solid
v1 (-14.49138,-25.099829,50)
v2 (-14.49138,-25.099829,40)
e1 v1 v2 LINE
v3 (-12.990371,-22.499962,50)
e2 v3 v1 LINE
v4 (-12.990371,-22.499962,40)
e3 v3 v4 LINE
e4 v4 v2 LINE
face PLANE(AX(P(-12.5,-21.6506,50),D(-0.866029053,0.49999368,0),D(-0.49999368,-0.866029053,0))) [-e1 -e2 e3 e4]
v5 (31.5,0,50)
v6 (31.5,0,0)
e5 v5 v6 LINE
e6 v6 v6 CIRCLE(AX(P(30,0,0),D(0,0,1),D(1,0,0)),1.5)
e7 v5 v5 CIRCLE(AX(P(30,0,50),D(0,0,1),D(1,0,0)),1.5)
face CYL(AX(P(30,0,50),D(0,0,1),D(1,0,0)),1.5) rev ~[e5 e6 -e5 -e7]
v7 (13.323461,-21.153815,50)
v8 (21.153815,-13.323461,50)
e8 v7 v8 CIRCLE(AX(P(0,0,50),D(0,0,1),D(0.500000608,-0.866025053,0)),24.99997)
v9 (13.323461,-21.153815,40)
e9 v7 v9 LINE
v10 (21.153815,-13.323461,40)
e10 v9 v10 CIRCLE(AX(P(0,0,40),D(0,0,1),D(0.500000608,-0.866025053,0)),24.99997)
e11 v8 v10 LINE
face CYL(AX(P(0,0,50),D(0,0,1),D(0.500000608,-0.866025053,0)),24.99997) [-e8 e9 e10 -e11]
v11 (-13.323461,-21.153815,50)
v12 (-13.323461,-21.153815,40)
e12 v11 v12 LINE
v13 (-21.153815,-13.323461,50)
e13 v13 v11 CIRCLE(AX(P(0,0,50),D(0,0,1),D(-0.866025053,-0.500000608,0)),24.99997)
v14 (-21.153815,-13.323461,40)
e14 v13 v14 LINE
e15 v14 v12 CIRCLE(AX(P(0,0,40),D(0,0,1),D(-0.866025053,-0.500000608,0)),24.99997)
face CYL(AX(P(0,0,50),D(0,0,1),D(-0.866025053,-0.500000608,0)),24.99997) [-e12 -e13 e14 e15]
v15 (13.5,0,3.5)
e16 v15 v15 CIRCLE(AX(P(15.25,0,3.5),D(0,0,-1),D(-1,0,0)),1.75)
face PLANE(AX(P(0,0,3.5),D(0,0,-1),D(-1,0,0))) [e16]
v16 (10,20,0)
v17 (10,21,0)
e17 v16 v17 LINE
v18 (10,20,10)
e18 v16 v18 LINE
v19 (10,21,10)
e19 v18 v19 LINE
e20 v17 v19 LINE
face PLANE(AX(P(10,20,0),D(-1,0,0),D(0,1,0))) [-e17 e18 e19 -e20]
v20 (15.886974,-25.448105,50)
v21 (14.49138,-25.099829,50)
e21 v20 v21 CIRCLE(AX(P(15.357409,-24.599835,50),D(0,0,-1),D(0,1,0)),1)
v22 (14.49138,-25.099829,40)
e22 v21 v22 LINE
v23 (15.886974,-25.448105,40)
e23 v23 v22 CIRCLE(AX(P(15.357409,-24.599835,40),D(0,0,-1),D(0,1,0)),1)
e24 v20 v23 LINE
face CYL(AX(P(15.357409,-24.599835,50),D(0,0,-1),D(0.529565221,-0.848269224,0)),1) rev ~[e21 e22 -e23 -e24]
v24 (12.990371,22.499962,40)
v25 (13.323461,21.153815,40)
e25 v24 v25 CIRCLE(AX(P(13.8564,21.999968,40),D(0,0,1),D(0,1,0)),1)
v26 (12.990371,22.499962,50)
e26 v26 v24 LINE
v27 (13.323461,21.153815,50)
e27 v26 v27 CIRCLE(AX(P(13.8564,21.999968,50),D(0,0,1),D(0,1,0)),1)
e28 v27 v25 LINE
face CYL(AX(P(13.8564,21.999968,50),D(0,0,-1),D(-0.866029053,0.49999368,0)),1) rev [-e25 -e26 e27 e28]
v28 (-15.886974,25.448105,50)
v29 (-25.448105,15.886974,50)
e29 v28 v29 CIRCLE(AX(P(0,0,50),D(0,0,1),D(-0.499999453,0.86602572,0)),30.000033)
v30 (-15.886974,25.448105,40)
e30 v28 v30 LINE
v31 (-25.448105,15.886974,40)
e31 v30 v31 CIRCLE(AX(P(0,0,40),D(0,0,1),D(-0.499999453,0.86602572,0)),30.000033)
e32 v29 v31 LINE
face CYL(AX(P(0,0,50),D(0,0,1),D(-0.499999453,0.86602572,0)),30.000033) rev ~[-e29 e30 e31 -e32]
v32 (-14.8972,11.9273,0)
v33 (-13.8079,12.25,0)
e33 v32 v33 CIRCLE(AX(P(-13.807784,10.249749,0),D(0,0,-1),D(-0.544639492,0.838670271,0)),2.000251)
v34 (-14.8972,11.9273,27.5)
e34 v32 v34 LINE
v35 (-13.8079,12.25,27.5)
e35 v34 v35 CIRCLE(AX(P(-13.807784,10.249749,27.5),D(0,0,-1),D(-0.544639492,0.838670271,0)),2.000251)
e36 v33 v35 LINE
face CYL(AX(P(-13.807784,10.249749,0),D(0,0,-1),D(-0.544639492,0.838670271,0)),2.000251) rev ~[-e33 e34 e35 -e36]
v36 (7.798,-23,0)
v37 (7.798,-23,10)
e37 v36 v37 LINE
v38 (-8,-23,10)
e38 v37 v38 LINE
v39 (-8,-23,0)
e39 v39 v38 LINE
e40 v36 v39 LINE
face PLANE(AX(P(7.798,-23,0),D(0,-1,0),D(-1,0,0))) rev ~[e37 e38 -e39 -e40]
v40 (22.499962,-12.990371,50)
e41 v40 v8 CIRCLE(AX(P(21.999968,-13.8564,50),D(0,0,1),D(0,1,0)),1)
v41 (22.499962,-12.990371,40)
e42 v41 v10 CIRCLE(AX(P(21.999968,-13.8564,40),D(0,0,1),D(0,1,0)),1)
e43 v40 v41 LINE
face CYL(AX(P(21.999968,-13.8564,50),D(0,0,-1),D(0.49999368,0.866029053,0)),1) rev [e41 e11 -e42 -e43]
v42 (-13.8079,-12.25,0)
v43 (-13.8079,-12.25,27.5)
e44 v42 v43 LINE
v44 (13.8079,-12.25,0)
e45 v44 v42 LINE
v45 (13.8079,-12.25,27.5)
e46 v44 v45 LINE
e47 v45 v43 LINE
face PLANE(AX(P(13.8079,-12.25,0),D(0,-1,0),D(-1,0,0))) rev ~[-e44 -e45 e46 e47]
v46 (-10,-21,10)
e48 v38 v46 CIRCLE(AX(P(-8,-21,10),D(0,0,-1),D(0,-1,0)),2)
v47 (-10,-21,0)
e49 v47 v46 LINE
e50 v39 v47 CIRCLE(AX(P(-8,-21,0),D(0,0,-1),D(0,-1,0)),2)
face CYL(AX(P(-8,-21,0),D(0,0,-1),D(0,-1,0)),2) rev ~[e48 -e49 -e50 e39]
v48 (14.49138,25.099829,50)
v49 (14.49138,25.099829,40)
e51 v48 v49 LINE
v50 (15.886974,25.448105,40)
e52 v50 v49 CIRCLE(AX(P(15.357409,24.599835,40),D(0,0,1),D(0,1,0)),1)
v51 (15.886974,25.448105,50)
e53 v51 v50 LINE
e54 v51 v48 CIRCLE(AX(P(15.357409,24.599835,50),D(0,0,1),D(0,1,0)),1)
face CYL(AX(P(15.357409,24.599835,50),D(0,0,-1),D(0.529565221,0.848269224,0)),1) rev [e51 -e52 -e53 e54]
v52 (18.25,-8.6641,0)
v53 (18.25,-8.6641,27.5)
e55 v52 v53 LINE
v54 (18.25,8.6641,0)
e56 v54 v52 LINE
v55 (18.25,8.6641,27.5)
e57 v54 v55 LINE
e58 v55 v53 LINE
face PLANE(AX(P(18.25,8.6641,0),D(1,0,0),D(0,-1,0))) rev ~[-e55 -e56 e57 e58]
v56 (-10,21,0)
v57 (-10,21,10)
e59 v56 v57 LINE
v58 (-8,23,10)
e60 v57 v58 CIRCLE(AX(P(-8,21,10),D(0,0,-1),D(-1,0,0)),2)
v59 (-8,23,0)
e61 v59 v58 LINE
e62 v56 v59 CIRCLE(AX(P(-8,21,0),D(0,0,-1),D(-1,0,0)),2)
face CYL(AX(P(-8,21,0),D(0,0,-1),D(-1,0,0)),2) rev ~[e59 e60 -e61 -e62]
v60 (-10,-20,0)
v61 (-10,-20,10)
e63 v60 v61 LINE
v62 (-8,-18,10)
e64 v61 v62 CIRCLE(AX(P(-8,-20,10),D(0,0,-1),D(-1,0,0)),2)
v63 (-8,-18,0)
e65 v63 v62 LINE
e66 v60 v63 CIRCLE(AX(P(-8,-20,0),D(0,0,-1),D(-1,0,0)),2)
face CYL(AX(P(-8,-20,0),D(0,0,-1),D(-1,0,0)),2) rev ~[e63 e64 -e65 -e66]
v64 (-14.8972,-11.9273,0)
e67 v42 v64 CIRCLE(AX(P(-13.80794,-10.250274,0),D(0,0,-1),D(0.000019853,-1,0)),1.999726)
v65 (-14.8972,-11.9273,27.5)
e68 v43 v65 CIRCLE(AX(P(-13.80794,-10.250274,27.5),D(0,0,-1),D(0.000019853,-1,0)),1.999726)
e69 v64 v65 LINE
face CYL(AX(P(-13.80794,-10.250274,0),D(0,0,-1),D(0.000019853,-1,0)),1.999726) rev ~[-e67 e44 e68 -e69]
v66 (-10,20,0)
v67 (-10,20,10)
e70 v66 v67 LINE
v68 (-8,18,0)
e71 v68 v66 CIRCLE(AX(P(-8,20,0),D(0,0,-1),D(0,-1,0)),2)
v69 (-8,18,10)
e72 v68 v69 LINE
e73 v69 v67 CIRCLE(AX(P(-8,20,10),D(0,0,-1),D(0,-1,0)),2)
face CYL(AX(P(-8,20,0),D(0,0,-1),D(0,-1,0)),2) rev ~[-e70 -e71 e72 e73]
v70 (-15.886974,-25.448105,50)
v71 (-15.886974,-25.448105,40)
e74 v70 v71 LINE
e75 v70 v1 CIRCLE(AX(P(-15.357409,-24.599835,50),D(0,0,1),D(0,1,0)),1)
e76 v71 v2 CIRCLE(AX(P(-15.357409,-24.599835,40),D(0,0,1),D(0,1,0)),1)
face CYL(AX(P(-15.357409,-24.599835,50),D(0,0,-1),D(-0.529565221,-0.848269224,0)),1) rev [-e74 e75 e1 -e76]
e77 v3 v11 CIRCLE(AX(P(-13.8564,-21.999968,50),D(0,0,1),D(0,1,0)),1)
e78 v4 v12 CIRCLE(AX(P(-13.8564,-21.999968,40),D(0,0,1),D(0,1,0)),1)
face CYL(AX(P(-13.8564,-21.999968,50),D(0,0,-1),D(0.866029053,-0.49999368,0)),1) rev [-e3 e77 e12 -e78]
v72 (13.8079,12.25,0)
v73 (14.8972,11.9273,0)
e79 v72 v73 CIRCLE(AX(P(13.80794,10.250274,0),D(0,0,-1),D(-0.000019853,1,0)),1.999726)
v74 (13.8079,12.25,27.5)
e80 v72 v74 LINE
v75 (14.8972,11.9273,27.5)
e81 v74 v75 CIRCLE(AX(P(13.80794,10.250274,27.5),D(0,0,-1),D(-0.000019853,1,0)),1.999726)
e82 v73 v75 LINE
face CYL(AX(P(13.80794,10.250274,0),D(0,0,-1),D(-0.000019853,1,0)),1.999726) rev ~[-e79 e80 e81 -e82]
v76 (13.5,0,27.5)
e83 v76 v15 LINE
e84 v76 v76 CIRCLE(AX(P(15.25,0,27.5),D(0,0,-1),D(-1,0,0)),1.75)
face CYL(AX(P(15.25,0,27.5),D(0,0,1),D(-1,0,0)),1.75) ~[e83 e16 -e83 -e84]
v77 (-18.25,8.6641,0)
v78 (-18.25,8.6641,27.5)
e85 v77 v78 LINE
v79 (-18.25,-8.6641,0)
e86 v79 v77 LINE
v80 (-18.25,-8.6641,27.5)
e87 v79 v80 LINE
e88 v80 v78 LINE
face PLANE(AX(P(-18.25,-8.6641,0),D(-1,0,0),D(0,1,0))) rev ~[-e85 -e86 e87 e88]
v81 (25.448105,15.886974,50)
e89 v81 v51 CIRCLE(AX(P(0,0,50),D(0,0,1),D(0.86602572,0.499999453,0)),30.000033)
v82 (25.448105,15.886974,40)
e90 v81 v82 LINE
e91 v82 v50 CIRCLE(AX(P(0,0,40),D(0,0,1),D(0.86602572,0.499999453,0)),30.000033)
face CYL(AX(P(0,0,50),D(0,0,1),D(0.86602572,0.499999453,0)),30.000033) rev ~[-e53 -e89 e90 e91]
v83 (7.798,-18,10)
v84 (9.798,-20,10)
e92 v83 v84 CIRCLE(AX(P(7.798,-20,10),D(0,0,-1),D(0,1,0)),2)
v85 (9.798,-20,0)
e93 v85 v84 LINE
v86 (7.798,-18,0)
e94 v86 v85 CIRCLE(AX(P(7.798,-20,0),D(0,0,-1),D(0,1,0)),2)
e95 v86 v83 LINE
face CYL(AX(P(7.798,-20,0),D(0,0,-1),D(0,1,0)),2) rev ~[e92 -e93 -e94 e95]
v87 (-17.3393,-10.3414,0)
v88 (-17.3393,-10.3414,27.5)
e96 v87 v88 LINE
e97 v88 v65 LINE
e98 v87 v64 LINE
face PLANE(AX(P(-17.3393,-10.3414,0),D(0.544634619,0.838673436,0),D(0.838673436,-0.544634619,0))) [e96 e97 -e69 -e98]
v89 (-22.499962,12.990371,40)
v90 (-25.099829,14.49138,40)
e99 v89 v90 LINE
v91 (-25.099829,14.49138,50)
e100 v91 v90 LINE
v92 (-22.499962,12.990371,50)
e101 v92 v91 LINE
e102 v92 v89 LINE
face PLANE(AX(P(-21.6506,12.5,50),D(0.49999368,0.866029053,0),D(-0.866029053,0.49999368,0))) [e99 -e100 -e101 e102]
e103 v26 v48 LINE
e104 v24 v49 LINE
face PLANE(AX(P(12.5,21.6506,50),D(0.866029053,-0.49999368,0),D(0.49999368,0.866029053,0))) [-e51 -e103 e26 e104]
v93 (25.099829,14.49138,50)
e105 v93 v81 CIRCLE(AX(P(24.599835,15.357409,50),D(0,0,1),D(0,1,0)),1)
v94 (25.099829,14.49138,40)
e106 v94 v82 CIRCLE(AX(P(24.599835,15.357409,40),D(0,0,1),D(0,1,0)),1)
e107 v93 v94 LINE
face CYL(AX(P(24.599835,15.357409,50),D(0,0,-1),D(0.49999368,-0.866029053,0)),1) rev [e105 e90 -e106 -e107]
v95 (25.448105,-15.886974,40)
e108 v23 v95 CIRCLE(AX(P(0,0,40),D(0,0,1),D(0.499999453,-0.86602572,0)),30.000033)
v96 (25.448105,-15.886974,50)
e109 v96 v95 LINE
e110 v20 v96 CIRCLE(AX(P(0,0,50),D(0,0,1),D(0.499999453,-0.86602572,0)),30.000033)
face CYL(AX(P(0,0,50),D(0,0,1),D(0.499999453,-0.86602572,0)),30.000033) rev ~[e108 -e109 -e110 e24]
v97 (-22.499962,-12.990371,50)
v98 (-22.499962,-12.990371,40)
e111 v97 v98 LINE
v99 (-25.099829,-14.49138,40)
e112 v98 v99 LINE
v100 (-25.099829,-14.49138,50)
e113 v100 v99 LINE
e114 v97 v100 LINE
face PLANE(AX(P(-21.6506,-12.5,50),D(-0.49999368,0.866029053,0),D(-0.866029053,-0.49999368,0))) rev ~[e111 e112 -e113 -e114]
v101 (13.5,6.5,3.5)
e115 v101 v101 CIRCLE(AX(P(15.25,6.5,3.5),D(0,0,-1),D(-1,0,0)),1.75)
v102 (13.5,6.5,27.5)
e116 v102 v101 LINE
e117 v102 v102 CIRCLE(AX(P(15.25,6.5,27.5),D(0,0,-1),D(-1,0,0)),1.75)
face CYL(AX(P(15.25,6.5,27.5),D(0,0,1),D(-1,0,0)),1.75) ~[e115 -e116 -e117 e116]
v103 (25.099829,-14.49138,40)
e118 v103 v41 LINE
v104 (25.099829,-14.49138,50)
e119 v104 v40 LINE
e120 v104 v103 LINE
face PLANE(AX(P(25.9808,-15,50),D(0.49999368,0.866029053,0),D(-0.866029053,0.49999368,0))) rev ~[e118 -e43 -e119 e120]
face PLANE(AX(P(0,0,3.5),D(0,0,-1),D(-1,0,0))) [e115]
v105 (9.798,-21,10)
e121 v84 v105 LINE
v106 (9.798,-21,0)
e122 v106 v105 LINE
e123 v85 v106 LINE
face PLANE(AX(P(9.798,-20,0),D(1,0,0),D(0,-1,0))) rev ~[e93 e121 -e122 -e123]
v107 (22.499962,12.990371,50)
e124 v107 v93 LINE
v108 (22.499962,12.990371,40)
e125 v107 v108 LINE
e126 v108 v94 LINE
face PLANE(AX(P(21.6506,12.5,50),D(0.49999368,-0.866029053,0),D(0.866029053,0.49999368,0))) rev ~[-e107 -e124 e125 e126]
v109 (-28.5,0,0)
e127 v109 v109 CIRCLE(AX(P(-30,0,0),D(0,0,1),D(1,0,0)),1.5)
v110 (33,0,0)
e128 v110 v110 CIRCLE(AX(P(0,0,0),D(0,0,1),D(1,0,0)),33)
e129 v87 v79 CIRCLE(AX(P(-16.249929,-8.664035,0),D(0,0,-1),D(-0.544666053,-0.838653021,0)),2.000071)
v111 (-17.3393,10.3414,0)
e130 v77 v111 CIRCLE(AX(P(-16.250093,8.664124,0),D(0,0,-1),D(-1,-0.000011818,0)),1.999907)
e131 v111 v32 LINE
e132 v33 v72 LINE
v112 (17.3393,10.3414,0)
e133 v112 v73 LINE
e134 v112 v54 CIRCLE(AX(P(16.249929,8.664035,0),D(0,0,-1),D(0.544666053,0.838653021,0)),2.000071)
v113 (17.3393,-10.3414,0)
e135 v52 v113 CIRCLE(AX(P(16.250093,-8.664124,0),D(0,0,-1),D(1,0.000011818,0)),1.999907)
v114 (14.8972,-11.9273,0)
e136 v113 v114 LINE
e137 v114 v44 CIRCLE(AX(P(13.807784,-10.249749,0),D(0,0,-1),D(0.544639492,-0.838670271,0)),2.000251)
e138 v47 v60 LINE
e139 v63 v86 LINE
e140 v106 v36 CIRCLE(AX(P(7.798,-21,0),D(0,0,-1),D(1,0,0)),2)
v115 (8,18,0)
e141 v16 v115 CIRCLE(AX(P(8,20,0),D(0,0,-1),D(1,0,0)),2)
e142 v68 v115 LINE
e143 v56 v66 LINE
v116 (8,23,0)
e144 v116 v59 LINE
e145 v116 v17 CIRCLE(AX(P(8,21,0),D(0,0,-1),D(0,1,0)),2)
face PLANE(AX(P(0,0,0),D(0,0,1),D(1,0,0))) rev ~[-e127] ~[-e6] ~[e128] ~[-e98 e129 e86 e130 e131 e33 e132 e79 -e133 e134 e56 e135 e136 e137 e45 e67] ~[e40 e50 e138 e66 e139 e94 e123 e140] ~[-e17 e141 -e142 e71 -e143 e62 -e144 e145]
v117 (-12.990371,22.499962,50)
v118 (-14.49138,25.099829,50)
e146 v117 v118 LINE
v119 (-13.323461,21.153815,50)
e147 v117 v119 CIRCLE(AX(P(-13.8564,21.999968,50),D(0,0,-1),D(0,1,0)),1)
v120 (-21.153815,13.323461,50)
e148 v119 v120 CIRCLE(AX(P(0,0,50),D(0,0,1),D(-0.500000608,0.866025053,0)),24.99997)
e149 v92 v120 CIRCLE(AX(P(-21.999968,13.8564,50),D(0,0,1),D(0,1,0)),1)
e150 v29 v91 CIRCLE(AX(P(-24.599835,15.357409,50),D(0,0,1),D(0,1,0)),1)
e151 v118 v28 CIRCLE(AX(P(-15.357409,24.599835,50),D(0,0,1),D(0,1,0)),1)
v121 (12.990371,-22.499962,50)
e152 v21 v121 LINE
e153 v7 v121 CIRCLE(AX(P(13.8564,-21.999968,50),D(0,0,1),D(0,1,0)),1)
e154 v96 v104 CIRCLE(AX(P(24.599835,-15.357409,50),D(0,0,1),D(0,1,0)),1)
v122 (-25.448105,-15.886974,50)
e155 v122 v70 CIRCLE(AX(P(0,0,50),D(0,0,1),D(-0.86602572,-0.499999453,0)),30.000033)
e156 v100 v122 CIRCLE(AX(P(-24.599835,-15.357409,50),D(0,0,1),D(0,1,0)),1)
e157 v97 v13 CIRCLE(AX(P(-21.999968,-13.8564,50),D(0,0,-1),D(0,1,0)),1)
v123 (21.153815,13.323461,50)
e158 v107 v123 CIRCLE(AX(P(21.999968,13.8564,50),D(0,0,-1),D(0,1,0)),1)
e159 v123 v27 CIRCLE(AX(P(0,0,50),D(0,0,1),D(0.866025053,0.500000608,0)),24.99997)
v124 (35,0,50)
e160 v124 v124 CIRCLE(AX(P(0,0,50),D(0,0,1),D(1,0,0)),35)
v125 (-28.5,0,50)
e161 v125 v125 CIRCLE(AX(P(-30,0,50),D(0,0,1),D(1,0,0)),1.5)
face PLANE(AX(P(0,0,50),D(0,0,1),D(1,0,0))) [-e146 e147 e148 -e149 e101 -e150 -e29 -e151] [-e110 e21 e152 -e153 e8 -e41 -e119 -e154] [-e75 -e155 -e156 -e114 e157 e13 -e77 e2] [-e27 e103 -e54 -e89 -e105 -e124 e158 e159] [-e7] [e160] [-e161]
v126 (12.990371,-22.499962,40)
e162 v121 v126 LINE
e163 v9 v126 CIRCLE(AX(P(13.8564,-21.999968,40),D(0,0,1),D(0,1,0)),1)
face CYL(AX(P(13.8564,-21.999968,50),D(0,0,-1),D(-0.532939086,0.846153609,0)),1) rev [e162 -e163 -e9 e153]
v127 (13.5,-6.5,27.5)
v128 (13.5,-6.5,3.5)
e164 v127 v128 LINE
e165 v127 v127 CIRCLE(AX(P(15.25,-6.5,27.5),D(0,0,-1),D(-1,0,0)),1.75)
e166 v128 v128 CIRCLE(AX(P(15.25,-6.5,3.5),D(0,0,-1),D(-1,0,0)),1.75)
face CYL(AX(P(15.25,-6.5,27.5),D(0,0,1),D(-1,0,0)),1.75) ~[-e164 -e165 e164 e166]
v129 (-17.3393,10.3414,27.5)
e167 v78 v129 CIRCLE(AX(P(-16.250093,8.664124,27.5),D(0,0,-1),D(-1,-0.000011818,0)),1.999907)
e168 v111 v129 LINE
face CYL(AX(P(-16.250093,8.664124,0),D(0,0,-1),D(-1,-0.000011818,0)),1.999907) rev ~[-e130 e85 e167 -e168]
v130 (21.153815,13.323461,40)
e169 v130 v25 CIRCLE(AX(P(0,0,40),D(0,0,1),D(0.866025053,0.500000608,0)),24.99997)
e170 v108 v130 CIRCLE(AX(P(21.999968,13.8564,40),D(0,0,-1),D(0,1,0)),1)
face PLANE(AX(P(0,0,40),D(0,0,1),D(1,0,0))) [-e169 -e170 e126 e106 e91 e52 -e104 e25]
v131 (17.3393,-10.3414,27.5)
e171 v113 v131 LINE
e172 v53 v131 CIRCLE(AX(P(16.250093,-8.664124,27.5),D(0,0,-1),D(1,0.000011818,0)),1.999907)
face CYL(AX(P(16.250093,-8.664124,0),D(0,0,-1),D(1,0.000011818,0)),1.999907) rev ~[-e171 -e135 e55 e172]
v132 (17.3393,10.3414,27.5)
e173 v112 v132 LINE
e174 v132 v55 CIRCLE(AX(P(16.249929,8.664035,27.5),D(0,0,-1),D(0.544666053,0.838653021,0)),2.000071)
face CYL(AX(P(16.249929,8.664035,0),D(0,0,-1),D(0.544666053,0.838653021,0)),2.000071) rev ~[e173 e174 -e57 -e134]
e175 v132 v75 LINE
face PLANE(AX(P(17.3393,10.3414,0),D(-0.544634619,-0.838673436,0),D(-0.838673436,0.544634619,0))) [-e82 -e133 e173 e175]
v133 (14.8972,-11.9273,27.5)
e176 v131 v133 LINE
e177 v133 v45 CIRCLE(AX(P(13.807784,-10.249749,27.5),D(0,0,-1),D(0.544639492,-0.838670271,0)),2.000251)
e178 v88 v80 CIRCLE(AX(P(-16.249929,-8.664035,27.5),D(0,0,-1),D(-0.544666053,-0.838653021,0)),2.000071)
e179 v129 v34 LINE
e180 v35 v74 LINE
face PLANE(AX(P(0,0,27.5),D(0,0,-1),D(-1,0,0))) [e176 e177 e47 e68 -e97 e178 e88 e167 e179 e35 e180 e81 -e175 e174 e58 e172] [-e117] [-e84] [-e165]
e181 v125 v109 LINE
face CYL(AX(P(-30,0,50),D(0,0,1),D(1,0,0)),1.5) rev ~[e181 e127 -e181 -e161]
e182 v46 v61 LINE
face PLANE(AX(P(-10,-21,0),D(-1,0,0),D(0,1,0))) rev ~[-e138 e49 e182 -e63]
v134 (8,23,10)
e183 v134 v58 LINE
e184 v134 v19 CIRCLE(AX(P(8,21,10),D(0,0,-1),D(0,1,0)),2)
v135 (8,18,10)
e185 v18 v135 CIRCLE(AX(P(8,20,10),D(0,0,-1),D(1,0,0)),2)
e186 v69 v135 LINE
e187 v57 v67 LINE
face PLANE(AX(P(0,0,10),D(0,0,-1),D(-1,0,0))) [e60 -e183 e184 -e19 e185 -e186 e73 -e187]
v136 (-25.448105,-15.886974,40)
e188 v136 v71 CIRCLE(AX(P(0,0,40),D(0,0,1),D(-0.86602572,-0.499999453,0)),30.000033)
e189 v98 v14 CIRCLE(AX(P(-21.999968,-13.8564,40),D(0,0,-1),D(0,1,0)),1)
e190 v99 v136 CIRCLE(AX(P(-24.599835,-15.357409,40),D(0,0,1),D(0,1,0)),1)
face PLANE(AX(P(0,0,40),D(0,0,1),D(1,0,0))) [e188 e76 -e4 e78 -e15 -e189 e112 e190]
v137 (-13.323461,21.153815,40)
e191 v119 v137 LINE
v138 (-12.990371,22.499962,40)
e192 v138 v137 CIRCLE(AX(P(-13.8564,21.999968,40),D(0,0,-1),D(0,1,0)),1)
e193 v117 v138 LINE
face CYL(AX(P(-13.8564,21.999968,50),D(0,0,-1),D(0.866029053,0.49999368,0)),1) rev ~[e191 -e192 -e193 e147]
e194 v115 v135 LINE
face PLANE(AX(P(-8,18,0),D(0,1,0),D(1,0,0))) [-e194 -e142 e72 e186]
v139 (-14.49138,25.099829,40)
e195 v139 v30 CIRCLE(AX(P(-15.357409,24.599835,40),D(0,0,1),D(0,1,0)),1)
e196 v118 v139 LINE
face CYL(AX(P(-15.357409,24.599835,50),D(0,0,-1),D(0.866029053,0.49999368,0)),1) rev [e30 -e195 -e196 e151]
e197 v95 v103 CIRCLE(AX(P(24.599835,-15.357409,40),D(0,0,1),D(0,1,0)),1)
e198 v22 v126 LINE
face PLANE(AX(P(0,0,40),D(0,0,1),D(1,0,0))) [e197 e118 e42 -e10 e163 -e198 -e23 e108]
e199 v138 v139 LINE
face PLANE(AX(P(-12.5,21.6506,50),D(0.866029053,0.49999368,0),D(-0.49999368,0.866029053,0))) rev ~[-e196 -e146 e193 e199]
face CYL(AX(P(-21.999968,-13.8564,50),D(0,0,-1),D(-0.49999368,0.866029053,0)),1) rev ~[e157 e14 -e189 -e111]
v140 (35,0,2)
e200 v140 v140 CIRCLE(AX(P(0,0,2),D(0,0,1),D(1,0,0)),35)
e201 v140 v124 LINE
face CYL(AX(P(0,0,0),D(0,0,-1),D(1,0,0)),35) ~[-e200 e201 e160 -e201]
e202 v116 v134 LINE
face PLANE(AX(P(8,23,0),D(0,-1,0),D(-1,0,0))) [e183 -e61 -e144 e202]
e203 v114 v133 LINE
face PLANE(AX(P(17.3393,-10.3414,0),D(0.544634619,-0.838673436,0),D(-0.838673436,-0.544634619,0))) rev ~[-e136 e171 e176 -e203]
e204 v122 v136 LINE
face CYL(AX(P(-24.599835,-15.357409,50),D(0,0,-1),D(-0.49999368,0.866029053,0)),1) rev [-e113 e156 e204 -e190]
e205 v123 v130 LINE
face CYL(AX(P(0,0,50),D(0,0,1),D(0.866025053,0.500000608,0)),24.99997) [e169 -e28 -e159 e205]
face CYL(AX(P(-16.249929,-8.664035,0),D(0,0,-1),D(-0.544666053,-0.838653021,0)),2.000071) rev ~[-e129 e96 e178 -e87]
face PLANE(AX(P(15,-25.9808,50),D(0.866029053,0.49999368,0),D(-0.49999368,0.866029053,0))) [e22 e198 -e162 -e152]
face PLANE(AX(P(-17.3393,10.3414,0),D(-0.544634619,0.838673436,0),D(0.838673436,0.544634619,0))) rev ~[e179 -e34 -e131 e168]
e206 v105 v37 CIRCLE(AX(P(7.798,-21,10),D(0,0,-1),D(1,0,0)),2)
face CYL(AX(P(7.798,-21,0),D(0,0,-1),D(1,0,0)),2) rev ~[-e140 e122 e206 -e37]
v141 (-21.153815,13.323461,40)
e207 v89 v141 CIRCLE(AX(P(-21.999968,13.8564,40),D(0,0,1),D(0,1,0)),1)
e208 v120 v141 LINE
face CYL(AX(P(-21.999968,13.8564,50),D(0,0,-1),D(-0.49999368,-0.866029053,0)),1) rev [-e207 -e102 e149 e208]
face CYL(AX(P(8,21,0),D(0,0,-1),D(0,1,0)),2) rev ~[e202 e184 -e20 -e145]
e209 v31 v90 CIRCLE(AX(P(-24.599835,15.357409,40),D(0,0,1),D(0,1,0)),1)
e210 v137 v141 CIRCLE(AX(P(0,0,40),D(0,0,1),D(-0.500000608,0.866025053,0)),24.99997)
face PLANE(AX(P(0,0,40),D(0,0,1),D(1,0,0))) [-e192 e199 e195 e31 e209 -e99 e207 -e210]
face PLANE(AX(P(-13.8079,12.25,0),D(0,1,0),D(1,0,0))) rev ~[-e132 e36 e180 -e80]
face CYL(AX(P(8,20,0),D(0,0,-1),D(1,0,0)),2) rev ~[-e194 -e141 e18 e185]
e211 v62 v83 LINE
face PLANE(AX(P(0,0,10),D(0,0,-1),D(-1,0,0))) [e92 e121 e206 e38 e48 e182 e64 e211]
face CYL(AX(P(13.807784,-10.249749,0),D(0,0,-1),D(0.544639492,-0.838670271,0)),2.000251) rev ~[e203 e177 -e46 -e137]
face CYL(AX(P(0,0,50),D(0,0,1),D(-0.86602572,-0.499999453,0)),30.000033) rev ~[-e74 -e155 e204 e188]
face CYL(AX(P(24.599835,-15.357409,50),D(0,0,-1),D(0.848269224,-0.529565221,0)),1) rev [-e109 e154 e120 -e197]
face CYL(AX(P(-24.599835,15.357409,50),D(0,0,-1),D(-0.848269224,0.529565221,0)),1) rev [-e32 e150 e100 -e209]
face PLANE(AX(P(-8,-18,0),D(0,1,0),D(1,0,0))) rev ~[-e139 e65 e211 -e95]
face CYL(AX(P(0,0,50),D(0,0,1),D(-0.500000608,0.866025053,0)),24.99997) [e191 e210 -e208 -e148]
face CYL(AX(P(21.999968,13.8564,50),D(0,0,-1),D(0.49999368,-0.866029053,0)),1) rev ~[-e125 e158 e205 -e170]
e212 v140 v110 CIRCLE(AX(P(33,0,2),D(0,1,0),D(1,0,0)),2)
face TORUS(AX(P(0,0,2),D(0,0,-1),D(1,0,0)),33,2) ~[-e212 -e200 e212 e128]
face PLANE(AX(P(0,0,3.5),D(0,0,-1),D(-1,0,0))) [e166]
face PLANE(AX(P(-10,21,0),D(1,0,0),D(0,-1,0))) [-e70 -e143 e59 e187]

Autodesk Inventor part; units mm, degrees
ref_plane "YZ Plane" through (0, 0, 0) normal (1, 0, 0) x (0, 1, 0)
ref_plane "XZ Plane" through (0, 0, 0) normal (0, 1, 0) x (-1, 0, 0)
ref_plane "XY Plane" through (0, 0, 0) normal (0, 0, 1) x (1, 0, 0)
sketch "Sketch1" plane through (0, 0, 0) normal (0, 0, 1) x (1, 0, 0)
  circle A0 centre (0, 0) radius 35
  dimension "d0" = 70
extrude "Extrusion1" add sketch "Sketch1" along normal blind 50
sketch "Sketch4" plane through (0, 0, 50) normal (0, 0, 1) x (1, 0, 0)
  circle A0 centre (30, 0) radius 1.5
  dimension "d104" = 3
sketch "Sketch6" plane through (0, 0, 50) normal (0, 0, 1) x (1, 0, 0)
  circle A0 centre (-30, 0) radius 1.5
  point P0 (0, 0)
  dimension "d105" = 3
sketch "Sketch11" plane through (0, 0, 0) normal (0, 0, -1) x (-1, 0, 0)
  line L0 (13.8079, 12.25) -> (-13.8079, 12.25)
  line L1 (-18.25, 8.6641) -> (-18.25, -8.6641)
  line L2 (-13.8079, -12.25) -> (13.8079, -12.25)
  line L3 (18.25, -8.6641) -> (18.25, 8.6641)
  line L4 (17.3393, 10.3414) -> (14.8972, 11.9273)
  line L5 (17.3393, -10.3414) -> (14.8972, -11.9273)
  line L6 (-17.3393, 10.3414) -> (-14.8972, 11.9273)
  line L7 (-17.3393, -10.3414) -> (-14.8972, -11.9273)
  arc A0 (18.25, 8.6641) -> (17.3393, 10.3414) centre (16.25, 8.6641) ccw
  arc A1 (14.8972, 11.9273) -> (13.8079, 12.25) centre (13.8079, 10.25) ccw
  arc A2 (17.3393, -10.3414) -> (18.25, -8.6641) centre (16.25, -8.6641) ccw
  arc A3 (13.8079, -12.25) -> (14.8972, -11.9273) centre (13.8079, -10.25) ccw
  arc A4 (-14.8972, -11.9273) -> (-13.8079, -12.25) centre (-13.8079, -10.25) ccw
  arc A5 (-18.25, -8.6641) -> (-17.3393, -10.3414) centre (-16.25, -8.6641) ccw
  arc A6 (-17.3393, 10.3414) -> (-18.25, 8.6641) centre (-16.25, 8.6641) ccw
  arc A7 (-13.8079, 12.25) -> (-14.8972, 11.9273) centre (-13.8079, 10.25) ccw
  point P0 (18.25, 12.25)
  point P1 (-18.25, -12.25)
  point P2 (-18.25, 12.25)
  point P3 (18.25, -12.25)
  point P4 (18.25, 9.75)
  point P5 (18.25, -9.75)
  point P6 (-18.25, 9.75)
  point P7 (-18.25, -9.75)
  dimension "d73" = 36.5
  dimension "d74" = 24.5
  dimension "d75" = 2.5
  dimension "d76" = 57
  dimension "d77" = 2.5
  dimension "d78" = 57
  dimension "d79" = 2.5
  dimension "d80" = 57
  dimension "d81" = 2.5
  dimension "d82" = 57
  dimension "d83" = 2
extrude "Extrusion2" cut sketch "Sketch11" against normal blind 27.5
sketch "Sketch12" plane through (0, 0, 50) normal (0, 0, 1) x (1, 0, 0)
  line L0 (0, 0) -> (30, 0) construction
  line L1 (0, 0) -> (30, 0) construction
  arc A0 (-12.5, 21.6506) -> (-21.6506, 12.5) centre (0, 0) ccw
  arc A1 (-15, 25.9808) -> (-25.9808, 15) centre (0, 0) ccw
  arc A2 (25.9808, 15) -> (15, 25.9808) centre (0, 0) ccw
  arc A3 (21.6506, 12.5) -> (12.5, 21.6506) centre (0, 0) ccw
  arc A4 (15, -25.9808) -> (25.9808, -15) centre (0, 0) ccw
  arc A5 (12.5, -21.6506) -> (21.6506, -12.5) centre (0, 0) ccw
  arc A6 (-21.6506, -12.5) -> (-12.5, -21.6506) centre (0, 0) ccw
  arc A7 (-25.9808, -15) -> (-15, -25.9808) centre (0, 0) ccw
  line L2 (-21.6506, 12.5) -> (-25.9808, 15)
  line L3 (-12.5, 21.6506) -> (-15, 25.9808)
  line L4 (12.5, 21.6506) -> (15, 25.9808)
  line L5 (21.6506, 12.5) -> (25.9808, 15)
  line L6 (25.9808, -15) -> (21.6506, -12.5)
  line L7 (15, -25.9808) -> (12.5, -21.6506)
  line L8 (-12.5, -21.6506) -> (-15, -25.9808)
  line L9 (-21.6506, -12.5) -> (-25.9808, -15)
extrude "Extrusion3" cut sketch "Sketch12" against normal blind 10
fillet "Fillet3" radius 2 1 edges at (-35, 0, 0)
fillet "Fillet6" radius 1 16 edges at (12.5, 21.6506, 45) (21.6506, 12.5, 45) (25.9808, 15, 45) (15, 25.9808, 45) (-15, 25.9808, 45) (-12.5, 21.6506, 45) (-21.6506, 12.5, 45) (-25.9808, 15, 45) (-21.6506, -12.5, 45) (-25.9808, -15, 45) (-15, -25.9808, 45) (-12.5, -21.6506, 45) (12.5, -21.6506, 45) (15, -25.9808, 45) (25.9808, -15, 45) (21.6506, -12.5, 45)
sketch "Sketch15" plane through (0, 0, 27.5) normal (0, 0, -1) x (-1, 0, 0)
  circle A0 centre (-15.25, 0) radius 1.75
  circle A1 centre (-15.25, -6.5) radius 1.75
  circle A2 centre (-15.25, 6.5) radius 1.75
  point P0 (0, 0)
  dimension "d85" = 3.5
extrude "Extrusion6" add sketch "Sketch15" along normal blind 24
sketch "Sketch16" plane through (0, 0, 0) normal (0, 0, -1) x (-1, 0, 0)
  line L0 (-8, 23) -> (8, 23)
  line L1 (10, 21) -> (10, 20)
  line L2 (8, 18) -> (-8, 18)
  line L3 (-10, 20) -> (-10, 21)
  arc A0 (21.1538, 13.3235) -> (13.3235, 21.1538) centre (0, 0) ccw projected
  line L4 (8, -18) -> (-7.798, -18)
  line L5 (-9.798, -20) -> (-9.798, -21)
  line L6 (-7.798, -23) -> (8, -23)
  line L7 (10, -21) -> (10, -20)
  arc A1 (10, 21) -> (8, 23) centre (8, 21) ccw
  arc A2 (8, 18) -> (10, 20) centre (8, 20) ccw
  arc A3 (-10, 20) -> (-8, 18) centre (-8, 20) ccw
  arc A4 (-8, 23) -> (-10, 21) centre (-8, 21) ccw
  arc A5 (-7.798, -18) -> (-9.798, -20) centre (-7.798, -20) ccw
  arc A6 (10, -20) -> (8, -18) centre (8, -20) ccw
  arc A7 (8, -23) -> (10, -21) centre (8, -21) ccw
  arc A8 (-9.798, -21) -> (-7.798, -23) centre (-7.798, -21) ccw
  point P0 (0, 0)
  point P1 (10, 18)
  point P2 (10, 23)
  point P3 (-10, 18)
  point P4 (10, -18)
  point P5 (-9.798, -23)
  point P6 (-9.798, -18)
  dimension "d90" = 20
  dimension "d91" = 5
  dimension "d92" = 5
  dimension "d93" = 2
extrude "Extrusion7" cut sketch "Sketch16" against normal blind 10
extrude "Extrusion10" cut sketch "Sketch6" against normal through all
extrude "Extrusion11" cut sketch "Sketch4" against normal through all
equation "\"d77\" = d75"
equation "\"d78\" = d76"
properties part number "middle orbit" material "ABS Plastic"
